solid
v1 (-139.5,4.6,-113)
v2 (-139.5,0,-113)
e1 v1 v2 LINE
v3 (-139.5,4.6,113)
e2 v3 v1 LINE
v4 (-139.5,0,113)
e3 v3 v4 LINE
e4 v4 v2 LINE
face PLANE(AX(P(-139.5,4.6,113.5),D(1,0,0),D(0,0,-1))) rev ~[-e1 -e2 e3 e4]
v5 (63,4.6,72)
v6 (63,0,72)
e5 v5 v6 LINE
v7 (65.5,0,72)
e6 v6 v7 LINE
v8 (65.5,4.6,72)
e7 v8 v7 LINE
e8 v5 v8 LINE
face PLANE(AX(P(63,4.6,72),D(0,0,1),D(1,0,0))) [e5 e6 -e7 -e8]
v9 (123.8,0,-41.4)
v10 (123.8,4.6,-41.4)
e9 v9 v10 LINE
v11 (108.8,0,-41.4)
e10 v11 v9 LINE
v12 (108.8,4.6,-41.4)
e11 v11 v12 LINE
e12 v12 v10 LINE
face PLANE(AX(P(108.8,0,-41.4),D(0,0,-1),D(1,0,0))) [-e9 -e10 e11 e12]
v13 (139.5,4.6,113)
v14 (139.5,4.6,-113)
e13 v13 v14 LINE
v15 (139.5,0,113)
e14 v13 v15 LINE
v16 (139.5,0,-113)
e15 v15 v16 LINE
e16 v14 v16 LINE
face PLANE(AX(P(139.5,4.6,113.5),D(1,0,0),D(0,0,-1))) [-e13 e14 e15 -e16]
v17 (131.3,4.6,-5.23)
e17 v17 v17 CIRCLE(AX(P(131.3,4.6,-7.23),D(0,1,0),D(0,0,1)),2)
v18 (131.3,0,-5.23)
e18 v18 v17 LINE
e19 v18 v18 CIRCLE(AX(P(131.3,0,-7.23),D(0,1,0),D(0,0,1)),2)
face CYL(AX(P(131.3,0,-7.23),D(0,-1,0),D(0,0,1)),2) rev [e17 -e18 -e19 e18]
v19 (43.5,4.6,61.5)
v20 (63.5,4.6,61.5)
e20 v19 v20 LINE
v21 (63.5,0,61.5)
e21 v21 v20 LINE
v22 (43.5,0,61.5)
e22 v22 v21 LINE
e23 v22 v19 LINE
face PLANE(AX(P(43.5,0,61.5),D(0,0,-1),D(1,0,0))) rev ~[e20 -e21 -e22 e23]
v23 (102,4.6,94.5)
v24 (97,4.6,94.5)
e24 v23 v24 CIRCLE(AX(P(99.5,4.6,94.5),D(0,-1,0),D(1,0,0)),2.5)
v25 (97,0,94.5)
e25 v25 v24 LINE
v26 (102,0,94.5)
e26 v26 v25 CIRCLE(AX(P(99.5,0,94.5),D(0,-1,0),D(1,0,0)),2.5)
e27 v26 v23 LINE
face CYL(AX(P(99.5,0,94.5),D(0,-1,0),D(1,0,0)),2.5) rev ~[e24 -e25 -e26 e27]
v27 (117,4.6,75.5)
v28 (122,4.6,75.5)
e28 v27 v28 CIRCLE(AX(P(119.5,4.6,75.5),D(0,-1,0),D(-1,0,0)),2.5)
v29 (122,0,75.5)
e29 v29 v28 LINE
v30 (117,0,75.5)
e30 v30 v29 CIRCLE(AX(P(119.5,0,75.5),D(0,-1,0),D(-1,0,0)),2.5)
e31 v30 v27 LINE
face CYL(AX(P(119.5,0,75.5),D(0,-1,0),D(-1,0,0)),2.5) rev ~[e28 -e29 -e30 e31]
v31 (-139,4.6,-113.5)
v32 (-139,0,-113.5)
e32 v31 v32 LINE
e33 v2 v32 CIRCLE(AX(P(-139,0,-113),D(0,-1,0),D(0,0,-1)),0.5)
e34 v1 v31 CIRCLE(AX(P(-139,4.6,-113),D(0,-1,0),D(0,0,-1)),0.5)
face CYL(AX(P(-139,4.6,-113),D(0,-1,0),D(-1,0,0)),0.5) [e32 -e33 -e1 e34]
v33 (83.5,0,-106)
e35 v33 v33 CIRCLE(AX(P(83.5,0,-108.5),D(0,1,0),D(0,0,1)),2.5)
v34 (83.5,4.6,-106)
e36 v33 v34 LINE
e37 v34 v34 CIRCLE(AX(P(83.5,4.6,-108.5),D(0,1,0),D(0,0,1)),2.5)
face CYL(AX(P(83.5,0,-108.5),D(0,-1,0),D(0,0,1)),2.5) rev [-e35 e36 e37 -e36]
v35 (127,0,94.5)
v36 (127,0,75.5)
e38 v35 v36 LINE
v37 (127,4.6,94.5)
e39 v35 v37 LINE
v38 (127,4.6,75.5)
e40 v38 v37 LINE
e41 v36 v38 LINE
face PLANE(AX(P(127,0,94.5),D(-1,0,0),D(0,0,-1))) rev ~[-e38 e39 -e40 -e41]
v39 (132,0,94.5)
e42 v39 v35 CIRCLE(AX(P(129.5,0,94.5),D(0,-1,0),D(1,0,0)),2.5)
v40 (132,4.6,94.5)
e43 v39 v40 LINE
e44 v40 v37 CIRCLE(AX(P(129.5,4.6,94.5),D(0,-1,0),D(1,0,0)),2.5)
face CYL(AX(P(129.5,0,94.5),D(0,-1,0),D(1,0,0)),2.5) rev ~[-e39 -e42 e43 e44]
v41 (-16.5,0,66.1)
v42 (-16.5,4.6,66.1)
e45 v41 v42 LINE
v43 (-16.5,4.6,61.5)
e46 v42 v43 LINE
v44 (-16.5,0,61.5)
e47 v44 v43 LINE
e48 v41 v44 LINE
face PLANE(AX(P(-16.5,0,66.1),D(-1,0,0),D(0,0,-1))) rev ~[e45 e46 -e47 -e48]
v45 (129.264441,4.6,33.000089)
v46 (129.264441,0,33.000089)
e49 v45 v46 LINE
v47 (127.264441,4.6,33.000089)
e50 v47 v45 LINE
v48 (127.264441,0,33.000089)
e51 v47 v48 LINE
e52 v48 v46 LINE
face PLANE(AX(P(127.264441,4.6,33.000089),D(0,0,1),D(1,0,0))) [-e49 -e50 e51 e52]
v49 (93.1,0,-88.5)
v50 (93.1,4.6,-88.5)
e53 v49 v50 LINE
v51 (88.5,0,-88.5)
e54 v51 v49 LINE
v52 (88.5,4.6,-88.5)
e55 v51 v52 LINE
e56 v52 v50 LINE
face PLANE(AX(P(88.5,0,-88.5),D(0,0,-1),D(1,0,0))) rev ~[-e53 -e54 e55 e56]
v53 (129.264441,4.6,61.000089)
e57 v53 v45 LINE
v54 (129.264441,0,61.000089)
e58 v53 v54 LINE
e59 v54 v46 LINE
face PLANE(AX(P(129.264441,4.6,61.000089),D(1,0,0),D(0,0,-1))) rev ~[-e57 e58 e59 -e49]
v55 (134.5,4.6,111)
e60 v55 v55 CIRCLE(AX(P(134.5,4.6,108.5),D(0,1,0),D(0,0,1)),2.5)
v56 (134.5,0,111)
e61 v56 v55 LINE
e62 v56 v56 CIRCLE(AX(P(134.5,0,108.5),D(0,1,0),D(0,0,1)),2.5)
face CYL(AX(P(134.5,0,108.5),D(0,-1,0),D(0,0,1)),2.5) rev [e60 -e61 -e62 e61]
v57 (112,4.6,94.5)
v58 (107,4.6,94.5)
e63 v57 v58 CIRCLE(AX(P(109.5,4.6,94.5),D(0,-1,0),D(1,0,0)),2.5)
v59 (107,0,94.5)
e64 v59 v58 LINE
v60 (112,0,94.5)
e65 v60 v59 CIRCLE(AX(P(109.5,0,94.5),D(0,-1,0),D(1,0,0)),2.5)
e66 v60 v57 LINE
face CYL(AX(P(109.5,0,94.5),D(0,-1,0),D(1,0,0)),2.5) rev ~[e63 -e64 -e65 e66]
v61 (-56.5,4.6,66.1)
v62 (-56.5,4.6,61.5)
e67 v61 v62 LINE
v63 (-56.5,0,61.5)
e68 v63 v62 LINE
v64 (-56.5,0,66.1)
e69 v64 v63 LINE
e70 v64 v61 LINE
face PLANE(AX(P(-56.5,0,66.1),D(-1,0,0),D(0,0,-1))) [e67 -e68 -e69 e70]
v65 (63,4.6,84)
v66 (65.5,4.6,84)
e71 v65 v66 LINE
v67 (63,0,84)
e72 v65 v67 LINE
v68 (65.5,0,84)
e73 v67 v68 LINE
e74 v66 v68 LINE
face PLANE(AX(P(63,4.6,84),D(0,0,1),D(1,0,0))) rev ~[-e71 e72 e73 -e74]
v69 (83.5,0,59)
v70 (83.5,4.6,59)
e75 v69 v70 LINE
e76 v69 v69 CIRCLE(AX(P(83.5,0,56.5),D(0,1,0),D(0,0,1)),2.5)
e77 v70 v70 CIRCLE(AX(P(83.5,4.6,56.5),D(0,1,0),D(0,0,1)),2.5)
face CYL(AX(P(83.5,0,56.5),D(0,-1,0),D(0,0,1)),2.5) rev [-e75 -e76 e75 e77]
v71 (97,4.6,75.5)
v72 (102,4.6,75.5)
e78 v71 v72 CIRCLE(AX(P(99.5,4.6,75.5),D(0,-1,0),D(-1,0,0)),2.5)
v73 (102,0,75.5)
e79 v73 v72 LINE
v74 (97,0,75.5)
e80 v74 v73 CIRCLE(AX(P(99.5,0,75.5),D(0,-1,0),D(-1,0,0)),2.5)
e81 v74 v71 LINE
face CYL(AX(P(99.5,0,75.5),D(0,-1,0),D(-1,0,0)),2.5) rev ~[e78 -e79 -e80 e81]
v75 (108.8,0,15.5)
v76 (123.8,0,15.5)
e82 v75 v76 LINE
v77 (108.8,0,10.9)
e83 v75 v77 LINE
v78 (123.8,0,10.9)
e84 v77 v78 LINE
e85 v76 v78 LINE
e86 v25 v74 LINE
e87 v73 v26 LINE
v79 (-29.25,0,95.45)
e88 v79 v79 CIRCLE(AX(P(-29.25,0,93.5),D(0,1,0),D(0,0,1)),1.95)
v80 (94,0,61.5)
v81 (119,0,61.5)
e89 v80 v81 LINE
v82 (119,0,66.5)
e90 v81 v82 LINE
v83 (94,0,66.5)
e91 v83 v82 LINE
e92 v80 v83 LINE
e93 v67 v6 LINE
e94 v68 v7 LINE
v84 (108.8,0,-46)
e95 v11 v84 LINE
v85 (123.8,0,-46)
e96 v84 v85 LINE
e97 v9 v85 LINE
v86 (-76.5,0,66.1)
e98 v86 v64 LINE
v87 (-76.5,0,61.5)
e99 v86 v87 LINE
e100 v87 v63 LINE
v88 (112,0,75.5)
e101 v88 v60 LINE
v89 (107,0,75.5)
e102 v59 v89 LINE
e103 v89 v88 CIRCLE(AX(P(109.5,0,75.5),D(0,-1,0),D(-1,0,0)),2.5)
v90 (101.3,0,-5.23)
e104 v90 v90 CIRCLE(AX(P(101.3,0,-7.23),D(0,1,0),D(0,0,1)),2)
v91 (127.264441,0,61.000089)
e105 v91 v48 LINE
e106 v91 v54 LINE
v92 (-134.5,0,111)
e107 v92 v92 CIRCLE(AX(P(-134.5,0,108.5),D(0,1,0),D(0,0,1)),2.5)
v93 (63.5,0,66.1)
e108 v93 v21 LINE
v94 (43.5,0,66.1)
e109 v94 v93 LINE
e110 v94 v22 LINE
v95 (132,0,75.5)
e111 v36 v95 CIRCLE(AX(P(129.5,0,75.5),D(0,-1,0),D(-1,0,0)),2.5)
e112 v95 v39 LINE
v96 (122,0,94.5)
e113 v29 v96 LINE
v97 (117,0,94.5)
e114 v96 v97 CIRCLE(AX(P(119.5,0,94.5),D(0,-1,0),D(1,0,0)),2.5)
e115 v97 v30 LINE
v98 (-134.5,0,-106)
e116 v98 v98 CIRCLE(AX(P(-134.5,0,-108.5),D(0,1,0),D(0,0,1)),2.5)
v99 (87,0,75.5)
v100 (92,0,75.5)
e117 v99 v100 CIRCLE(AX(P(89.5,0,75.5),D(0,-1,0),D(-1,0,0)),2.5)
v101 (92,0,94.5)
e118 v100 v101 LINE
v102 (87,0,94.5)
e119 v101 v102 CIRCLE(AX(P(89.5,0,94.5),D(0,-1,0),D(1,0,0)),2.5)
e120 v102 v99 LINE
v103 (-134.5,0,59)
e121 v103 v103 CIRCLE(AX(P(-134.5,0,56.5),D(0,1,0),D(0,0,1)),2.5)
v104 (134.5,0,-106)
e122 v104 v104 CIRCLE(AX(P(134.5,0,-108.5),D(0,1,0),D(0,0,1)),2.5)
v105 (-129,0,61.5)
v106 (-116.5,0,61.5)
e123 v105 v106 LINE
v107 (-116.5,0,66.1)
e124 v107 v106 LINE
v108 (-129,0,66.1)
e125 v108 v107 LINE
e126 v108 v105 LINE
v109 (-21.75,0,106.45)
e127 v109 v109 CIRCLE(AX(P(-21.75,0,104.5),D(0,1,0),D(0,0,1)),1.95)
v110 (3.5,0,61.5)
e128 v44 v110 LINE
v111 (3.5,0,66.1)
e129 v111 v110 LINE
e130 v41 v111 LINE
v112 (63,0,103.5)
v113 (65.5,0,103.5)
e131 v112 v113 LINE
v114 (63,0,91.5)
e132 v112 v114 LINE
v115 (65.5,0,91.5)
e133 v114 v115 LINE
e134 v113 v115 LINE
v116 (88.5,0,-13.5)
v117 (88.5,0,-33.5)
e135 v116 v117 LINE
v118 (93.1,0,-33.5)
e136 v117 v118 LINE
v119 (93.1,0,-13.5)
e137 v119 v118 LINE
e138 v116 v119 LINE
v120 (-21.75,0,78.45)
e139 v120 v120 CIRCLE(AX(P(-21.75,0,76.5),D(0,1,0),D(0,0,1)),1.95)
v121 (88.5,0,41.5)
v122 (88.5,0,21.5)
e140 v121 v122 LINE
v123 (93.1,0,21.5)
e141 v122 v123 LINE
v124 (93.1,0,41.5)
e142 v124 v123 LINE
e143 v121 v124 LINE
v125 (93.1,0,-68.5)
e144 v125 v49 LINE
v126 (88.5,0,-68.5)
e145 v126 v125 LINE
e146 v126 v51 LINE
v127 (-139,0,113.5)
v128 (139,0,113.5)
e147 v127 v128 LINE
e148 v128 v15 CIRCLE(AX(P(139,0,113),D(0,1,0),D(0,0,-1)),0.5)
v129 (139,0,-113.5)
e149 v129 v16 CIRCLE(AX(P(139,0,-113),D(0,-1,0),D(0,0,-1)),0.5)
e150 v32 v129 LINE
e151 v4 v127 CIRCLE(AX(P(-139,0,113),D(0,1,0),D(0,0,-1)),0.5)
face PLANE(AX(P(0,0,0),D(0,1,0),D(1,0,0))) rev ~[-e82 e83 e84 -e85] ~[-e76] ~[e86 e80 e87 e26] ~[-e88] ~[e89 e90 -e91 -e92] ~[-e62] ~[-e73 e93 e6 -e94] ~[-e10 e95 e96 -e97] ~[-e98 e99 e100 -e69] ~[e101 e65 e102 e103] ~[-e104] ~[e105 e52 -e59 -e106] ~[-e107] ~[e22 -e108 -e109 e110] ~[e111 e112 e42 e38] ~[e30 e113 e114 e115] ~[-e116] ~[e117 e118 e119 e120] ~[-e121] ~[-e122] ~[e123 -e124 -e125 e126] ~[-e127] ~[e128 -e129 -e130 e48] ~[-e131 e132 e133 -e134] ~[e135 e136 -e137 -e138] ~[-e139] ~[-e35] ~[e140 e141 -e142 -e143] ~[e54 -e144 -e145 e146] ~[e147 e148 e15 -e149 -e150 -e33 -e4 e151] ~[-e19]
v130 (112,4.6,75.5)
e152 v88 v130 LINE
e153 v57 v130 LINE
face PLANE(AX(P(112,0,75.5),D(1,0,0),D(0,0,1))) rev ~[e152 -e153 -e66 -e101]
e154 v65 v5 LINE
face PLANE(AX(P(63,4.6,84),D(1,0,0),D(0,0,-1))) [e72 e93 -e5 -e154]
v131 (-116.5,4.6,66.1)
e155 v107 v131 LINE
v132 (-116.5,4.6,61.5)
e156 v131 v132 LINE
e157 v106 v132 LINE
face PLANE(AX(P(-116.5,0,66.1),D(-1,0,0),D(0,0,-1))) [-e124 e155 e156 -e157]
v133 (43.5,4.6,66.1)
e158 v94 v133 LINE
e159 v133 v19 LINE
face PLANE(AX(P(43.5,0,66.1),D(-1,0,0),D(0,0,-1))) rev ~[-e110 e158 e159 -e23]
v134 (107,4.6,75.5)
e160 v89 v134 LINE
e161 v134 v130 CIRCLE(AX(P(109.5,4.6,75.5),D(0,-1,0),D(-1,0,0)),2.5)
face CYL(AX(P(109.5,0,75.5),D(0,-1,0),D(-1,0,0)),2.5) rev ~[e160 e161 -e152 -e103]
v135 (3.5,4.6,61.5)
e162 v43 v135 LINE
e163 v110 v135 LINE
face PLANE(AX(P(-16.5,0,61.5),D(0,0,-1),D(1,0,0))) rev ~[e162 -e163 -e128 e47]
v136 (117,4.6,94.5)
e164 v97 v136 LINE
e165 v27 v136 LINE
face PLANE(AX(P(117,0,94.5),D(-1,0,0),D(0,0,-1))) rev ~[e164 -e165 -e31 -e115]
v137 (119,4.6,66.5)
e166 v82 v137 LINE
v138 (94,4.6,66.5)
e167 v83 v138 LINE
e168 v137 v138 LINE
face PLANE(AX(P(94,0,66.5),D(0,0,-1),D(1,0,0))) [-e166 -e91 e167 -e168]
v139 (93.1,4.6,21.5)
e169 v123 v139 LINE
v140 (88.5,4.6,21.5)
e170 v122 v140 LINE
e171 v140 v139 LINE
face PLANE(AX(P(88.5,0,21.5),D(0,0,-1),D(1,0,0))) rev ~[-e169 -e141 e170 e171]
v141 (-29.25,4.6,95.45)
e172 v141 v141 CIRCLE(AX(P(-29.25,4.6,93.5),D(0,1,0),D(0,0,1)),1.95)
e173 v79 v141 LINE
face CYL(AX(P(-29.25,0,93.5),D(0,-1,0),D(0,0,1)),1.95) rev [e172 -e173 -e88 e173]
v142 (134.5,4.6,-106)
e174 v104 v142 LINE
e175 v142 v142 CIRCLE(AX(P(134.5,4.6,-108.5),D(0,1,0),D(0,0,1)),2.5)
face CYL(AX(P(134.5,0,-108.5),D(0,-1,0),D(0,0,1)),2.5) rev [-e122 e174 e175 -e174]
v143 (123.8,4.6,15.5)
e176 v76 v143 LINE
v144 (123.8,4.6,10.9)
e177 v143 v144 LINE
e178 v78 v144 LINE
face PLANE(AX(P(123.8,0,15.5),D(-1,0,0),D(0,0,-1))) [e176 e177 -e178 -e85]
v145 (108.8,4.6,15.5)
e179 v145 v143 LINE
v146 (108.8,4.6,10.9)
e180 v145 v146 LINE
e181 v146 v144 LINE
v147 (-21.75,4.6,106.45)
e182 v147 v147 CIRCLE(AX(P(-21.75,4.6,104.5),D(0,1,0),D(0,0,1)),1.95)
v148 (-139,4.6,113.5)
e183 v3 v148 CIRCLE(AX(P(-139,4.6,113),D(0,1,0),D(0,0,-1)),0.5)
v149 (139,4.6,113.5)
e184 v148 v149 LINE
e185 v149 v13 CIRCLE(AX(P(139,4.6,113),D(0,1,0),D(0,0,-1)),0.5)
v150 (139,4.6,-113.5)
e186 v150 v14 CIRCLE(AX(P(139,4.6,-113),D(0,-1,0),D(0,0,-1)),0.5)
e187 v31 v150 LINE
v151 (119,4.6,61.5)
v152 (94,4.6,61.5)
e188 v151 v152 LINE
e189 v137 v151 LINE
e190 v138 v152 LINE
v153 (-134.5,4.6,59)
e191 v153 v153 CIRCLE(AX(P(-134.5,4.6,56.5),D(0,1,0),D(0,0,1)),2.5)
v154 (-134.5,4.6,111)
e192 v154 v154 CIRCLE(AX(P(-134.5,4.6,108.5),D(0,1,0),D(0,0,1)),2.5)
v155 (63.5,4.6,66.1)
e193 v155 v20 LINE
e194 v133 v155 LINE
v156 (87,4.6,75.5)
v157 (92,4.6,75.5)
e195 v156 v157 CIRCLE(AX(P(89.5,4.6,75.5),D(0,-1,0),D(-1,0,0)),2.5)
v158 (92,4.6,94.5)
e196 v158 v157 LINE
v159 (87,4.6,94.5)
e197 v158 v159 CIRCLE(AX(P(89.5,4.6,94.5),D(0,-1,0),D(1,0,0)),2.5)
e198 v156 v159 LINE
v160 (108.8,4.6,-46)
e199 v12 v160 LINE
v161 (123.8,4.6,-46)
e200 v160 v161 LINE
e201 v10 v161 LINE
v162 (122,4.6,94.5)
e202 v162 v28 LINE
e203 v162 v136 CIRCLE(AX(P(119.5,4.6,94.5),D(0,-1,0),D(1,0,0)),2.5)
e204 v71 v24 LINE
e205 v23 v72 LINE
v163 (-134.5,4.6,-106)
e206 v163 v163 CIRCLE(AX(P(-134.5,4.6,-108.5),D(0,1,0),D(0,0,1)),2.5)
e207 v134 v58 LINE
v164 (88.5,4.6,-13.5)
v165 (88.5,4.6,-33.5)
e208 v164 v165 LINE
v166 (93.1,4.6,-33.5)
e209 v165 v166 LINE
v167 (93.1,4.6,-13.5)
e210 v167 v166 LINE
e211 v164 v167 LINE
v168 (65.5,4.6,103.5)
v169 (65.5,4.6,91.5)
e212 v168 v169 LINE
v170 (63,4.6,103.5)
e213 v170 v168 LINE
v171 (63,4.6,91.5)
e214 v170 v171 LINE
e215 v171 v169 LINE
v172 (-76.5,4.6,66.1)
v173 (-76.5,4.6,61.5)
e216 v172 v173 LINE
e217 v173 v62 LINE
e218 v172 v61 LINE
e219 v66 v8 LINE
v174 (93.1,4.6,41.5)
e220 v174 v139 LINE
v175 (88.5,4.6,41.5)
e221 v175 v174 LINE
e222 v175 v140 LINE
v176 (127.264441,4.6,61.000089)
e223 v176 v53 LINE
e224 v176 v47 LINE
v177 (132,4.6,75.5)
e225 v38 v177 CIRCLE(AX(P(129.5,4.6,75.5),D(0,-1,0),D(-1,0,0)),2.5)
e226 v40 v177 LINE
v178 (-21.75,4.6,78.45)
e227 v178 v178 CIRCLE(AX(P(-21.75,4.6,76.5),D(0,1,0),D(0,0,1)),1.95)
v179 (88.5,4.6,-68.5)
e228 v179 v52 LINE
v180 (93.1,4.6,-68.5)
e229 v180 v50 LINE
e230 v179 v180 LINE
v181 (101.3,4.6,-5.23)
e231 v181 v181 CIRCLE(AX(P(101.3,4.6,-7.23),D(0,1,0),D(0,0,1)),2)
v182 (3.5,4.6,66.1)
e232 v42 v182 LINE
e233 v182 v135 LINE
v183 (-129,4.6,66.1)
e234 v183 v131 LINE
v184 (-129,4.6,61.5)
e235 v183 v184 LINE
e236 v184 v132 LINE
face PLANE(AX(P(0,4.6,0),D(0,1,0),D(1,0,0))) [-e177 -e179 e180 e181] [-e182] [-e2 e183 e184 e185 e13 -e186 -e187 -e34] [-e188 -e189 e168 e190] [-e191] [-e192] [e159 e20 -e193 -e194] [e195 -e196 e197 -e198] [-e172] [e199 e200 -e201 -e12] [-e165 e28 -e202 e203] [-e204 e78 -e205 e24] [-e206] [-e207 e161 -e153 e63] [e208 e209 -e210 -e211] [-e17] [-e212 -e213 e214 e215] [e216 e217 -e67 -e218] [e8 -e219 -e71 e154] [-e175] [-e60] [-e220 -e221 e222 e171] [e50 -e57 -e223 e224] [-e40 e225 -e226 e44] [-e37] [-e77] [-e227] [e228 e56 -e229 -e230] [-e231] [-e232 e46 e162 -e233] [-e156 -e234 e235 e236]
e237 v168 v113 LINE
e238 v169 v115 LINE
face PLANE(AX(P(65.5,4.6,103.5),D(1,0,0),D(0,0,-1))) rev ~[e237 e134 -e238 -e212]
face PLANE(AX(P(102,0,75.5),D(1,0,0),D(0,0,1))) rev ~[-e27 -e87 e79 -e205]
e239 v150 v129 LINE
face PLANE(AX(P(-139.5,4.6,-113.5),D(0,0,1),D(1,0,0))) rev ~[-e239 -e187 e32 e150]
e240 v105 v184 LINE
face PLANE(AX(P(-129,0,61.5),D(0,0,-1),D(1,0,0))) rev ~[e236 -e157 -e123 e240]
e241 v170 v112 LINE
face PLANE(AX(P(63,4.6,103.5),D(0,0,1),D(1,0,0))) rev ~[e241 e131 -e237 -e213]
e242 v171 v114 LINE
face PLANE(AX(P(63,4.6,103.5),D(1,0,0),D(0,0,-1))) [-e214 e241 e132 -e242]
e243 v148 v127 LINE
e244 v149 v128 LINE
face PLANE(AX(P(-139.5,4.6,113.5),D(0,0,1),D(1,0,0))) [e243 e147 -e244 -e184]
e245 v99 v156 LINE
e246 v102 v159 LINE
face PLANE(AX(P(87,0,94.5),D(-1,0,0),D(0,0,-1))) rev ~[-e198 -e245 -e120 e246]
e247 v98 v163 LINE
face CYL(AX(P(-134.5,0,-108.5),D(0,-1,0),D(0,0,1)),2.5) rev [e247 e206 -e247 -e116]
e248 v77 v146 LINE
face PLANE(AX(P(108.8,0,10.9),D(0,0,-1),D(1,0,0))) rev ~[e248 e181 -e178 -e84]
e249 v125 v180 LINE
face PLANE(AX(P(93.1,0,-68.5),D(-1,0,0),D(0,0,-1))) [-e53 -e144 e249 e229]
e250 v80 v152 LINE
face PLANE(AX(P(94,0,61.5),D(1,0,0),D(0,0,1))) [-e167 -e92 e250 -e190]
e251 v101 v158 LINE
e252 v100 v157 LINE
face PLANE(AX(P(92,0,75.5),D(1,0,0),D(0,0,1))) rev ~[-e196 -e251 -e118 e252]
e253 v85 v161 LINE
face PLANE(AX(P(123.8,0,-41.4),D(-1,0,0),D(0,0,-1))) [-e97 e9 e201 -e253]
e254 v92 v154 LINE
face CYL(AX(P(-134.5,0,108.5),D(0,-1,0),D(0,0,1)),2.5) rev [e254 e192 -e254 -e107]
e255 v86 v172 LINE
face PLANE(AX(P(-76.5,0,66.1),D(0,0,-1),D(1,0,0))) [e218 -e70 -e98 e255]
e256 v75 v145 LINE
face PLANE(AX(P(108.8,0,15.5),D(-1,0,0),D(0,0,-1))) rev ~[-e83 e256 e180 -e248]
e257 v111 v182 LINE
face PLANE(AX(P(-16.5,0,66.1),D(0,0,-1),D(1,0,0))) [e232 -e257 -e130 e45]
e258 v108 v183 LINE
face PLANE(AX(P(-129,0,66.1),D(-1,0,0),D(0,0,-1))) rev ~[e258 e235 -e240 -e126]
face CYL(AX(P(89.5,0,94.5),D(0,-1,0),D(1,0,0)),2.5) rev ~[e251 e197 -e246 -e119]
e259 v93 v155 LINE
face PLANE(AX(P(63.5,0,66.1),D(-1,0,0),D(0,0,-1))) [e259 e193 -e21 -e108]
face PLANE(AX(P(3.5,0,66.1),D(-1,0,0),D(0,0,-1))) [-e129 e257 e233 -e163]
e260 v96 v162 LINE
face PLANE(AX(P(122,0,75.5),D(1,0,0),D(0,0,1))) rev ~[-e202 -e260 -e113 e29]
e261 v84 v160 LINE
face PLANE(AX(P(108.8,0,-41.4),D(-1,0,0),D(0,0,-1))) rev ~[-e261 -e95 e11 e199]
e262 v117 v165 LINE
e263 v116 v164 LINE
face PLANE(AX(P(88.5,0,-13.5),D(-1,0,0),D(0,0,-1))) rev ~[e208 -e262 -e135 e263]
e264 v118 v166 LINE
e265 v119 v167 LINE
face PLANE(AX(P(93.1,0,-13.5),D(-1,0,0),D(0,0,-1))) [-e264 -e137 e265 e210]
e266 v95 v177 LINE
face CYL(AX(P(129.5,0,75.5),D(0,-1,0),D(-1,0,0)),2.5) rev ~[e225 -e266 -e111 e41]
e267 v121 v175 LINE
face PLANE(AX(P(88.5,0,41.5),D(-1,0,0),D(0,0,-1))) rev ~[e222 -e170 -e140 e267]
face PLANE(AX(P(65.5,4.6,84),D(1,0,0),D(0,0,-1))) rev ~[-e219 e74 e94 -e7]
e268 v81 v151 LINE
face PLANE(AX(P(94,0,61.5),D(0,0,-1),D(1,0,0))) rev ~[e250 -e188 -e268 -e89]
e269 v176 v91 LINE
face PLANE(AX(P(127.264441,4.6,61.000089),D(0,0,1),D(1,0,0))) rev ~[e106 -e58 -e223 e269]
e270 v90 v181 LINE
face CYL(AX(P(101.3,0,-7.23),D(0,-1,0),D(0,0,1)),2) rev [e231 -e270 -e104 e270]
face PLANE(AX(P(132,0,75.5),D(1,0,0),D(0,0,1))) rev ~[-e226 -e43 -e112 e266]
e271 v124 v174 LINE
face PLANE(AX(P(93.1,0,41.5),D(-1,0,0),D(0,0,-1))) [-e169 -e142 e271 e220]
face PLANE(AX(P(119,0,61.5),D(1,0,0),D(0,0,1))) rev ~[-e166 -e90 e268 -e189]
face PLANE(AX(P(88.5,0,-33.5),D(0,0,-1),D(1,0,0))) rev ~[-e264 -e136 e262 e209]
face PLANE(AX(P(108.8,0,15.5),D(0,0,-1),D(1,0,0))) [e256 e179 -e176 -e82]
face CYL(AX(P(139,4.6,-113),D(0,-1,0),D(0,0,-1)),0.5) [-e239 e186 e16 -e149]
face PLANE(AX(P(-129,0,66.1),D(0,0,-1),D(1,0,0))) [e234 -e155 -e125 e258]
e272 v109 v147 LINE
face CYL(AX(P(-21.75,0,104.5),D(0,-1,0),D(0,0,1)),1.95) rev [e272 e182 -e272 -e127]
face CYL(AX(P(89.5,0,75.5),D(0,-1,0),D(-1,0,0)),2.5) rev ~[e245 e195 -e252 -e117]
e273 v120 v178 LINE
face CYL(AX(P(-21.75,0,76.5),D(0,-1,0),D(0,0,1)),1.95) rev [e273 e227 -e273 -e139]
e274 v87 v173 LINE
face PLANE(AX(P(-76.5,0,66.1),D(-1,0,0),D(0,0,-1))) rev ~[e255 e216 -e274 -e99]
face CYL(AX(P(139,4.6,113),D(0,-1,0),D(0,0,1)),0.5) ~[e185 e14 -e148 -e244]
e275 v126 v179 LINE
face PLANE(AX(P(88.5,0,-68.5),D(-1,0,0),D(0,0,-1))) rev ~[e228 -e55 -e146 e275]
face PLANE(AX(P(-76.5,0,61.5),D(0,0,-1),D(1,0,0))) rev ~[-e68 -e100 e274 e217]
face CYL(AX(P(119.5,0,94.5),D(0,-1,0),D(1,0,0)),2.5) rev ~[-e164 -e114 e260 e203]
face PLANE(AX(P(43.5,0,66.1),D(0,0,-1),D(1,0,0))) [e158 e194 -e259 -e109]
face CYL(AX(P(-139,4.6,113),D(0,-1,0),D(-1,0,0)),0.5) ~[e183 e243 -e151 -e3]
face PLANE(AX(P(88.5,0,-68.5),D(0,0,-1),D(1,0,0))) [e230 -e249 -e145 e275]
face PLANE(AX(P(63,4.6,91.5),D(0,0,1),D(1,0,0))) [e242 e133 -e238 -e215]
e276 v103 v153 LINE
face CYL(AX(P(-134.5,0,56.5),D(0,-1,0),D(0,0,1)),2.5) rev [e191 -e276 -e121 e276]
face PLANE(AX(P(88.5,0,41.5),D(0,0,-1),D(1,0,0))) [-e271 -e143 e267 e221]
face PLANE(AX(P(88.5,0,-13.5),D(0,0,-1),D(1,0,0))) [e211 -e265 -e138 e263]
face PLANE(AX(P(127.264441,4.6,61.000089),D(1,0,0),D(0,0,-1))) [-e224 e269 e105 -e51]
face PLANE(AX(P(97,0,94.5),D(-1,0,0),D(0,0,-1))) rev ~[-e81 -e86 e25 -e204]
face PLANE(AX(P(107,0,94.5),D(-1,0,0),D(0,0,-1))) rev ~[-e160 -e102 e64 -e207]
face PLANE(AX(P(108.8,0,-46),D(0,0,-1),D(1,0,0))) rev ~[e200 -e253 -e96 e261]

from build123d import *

# Parameters (mm, degrees)
SKETCH1_W           = 281
SKETCH1_H           = 229
SKETCH1_R           = 2.5
SKETCH1_R_2         = 2
SKETCH1_R_3         = 1.95
SKETCH1_W_2         = 12.5
SKETCH1_H_2         = 4.6
SKETCH1_W_3         = 15
SKETCH1_W_4         = 4.6
SKETCH1_H_3         = 20
SKETCH1_W_5         = 20
BOSS_EXTRUDE1_DEPTH = 4.6
SKETCH2_W           = 281
SKETCH2_H           = 229
SKETCH2_W_2         = 279
SKETCH2_H_2         = 227
CUT_EXTRUDE1_DEPTH  = 182.305432903
SKETCH3_W           = 25
SKETCH3_H           = 5
CUT_EXTRUDE2_DEPTH  = 180.899027235
SKETCH6_W           = 2.5
SKETCH6_H           = 12
CUT_EXTRUDE5_DEPTH  = 180.899027235
CUT_EXTRUDE4_DEPTH  = 180.899027235
SKETCH8_W           = 2
SKETCH8_H           = 27.99999988
CUT_EXTRUDE7_DEPTH  = 180.899027235
FILLET2_R           = 0.5


with BuildPart() as part:
    # Sketch1 → Boss-Extrude1 (new body)
    with BuildSketch(Plane(origin=(0, 0, 0), x_dir=(1, 0, 0), z_dir=(0, 1, 0))):
        Rectangle(SKETCH1_W, SKETCH1_H)
        with Locations(Location((-134.5, 108.5, 0), (0, 0, 270))):
            Circle(SKETCH1_R, mode=Mode.SUBTRACT)
        with Locations(Location((134.5, 108.5, 0), (0, 0, 270))):
            Circle(SKETCH1_R, mode=Mode.SUBTRACT)
        with Locations(Location((83.5, 108.5, 0), (0, 0, 270))):
            Circle(SKETCH1_R, mode=Mode.SUBTRACT)
        with Locations(Location((134.5, -108.5, 0), (0, 0, 270))):
            Circle(SKETCH1_R, mode=Mode.SUBTRACT)
        with Locations(Location((83.5, -56.5, 0), (0, 0, 270))):
            Circle(SKETCH1_R, mode=Mode.SUBTRACT)
        with Locations(Location((-134.5, -56.5, 0), (0, 0, 270))):
            Circle(SKETCH1_R, mode=Mode.SUBTRACT)
        with Locations(Location((101.3, 7.23, 0), (0, 0, 270))):
            Circle(SKETCH1_R_2, mode=Mode.SUBTRACT)
        with Locations(Location((-134.5, -108.5, 0), (0, 0, 270))):
            Circle(SKETCH1_R, mode=Mode.SUBTRACT)
        with Locations(Location((131.3, 7.23, 0), (0, 0, 270))):
            Circle(SKETCH1_R_2, mode=Mode.SUBTRACT)
        with Locations(Location((-21.75, -104.5, 0), (0, 0, 270))):
            Circle(SKETCH1_R_3, mode=Mode.SUBTRACT)
        with Locations(Location((-29.25, -93.5, 0), (0, 0, 270))):
            Circle(SKETCH1_R_3, mode=Mode.SUBTRACT)
        with Locations(Location((-21.75, -76.5, 0), (0, 0, 270))):
            Circle(SKETCH1_R_3, mode=Mode.SUBTRACT)
        with Locations((-122.75, -63.8)):
            Rectangle(SKETCH1_W_2, SKETCH1_H_2, mode=Mode.SUBTRACT)
        with Locations((116.3, 43.7)):
            Rectangle(SKETCH1_W_3, SKETCH1_H_2, mode=Mode.SUBTRACT)
        with Locations((116.3, -13.2)):
            Rectangle(SKETCH1_W_3, SKETCH1_H_2, mode=Mode.SUBTRACT)
        with Locations((90.8, -31.5)):
            Rectangle(SKETCH1_W_4, SKETCH1_H_3, mode=Mode.SUBTRACT)
        with Locations((90.8, 78.5)):
            Rectangle(SKETCH1_W_4, SKETCH1_H_3, mode=Mode.SUBTRACT)
        with Locations((-66.5, -63.8)):
            Rectangle(SKETCH1_W_5, SKETCH1_H_2, mode=Mode.SUBTRACT)
        with Locations((53.5, -63.8)):
            Rectangle(SKETCH1_W_5, SKETCH1_H_2, mode=Mode.SUBTRACT)
        with Locations((90.8, 23.5)):
            Rectangle(SKETCH1_W_4, SKETCH1_H_3, mode=Mode.SUBTRACT)
        with Locations((-6.5, -63.8)):
            Rectangle(SKETCH1_W_5, SKETCH1_H_2, mode=Mode.SUBTRACT)
    extrude(amount=BOSS_EXTRUDE1_DEPTH)

    # Sketch2 → Cut-Extrude1 (cut, through all)
    with BuildSketch(Plane(origin=(0, 4.6, 0), x_dir=(1, 0, 0), z_dir=(0, 1, 0))):
        Rectangle(SKETCH2_W, SKETCH2_H)
        Rectangle(SKETCH2_W_2, SKETCH2_H_2, mode=Mode.SUBTRACT)
    extrude(amount=-CUT_EXTRUDE1_DEPTH, mode=Mode.SUBTRACT)

    # Sketch3 → Cut-Extrude2 (cut, through all)
    with BuildSketch(Plane.XZ):
        with Locations((106.5, 64)):
            Rectangle(SKETCH3_W, SKETCH3_H)
    extrude(amount=-CUT_EXTRUDE2_DEPTH, mode=Mode.SUBTRACT)

    # Sketch6 → Cut-Extrude5 (cut, through all)
    with BuildSketch(Plane(origin=(0, 4.6, 0), x_dir=(1, 0, 0), z_dir=(0, 1, 0))):
        with Locations((64.25, -78)):
            Rectangle(SKETCH6_W, SKETCH6_H)
        with Locations((64.25, -97.5)):
            Rectangle(SKETCH6_W, SKETCH6_H)
    extrude(amount=-CUT_EXTRUDE5_DEPTH, mode=Mode.SUBTRACT)

    # Sketch5 → Cut-Extrude4 (cut, through all)
    with BuildSketch(Plane(origin=(0, 0, 0), x_dir=(1, 0, 0), z_dir=(0, 1, 0))):
        with BuildLine():
            Line((132, -75.5), (132, -94.5))
            ThreePointArc((132, -94.5), (129.5, -97), (127, -94.5))
            Line((127, -94.5), (127, -75.5))
            ThreePointArc((127, -75.5), (129.5, -73), (132, -75.5))
        make_face()
        with BuildLine():
            Line((122, -75.5), (122, -94.5))
            ThreePointArc((122, -94.5), (119.5, -97), (117, -94.5))
            Line((117, -94.5), (117, -75.5))
            ThreePointArc((117, -75.5), (119.5, -73), (122, -75.5))
        make_face()
        with BuildLine():
            Line((112, -75.5), (112, -94.5))
            ThreePointArc((112, -94.5), (109.5, -97), (107, -94.5))
            Line((107, -94.5), (107, -75.5))
            ThreePointArc((107, -75.5), (109.5, -73), (112, -75.5))
        make_face()
        with BuildLine():
            Line((102, -75.5), (102, -94.5))
            ThreePointArc((102, -94.5), (99.5, -97), (97, -94.5))
            Line((97, -94.5), (97, -75.5))
            ThreePointArc((97, -75.5), (99.5, -73), (102, -75.5))
        make_face()
        with BuildLine():
            Line((92, -75.5), (92, -94.5))
            ThreePointArc((92, -94.5), (89.5, -97), (87, -94.5))
            Line((87, -94.5), (87, -75.5))
            ThreePointArc((87, -75.5), (89.5, -73), (92, -75.5))
        make_face()
    extrude(amount=CUT_EXTRUDE4_DEPTH, mode=Mode.SUBTRACT)

    # Sketch8 → Cut-Extrude7 (cut, through all)
    with BuildSketch(Plane(origin=(0, 4.6, 0), x_dir=(1, 0, 0), z_dir=(0, 1, 0))):
        with Locations((128.26444081, -47.0000889)):
            Rectangle(SKETCH8_W, SKETCH8_H)
    extrude(amount=-CUT_EXTRUDE7_DEPTH, mode=Mode.SUBTRACT)

    # Fillet2
    fillet2_edges = [part.edges().sort_by_distance(p)[0] for p in [
        (-139.5, 2.3, -113.5),
        (139.5, 2.3, -113.5),
        (139.5, 2.3, 113.5),
        (-139.5, 2.3, 113.5),
    ]]
    fillet(fillet2_edges, radius=FILLET2_R)


solid = part.part
